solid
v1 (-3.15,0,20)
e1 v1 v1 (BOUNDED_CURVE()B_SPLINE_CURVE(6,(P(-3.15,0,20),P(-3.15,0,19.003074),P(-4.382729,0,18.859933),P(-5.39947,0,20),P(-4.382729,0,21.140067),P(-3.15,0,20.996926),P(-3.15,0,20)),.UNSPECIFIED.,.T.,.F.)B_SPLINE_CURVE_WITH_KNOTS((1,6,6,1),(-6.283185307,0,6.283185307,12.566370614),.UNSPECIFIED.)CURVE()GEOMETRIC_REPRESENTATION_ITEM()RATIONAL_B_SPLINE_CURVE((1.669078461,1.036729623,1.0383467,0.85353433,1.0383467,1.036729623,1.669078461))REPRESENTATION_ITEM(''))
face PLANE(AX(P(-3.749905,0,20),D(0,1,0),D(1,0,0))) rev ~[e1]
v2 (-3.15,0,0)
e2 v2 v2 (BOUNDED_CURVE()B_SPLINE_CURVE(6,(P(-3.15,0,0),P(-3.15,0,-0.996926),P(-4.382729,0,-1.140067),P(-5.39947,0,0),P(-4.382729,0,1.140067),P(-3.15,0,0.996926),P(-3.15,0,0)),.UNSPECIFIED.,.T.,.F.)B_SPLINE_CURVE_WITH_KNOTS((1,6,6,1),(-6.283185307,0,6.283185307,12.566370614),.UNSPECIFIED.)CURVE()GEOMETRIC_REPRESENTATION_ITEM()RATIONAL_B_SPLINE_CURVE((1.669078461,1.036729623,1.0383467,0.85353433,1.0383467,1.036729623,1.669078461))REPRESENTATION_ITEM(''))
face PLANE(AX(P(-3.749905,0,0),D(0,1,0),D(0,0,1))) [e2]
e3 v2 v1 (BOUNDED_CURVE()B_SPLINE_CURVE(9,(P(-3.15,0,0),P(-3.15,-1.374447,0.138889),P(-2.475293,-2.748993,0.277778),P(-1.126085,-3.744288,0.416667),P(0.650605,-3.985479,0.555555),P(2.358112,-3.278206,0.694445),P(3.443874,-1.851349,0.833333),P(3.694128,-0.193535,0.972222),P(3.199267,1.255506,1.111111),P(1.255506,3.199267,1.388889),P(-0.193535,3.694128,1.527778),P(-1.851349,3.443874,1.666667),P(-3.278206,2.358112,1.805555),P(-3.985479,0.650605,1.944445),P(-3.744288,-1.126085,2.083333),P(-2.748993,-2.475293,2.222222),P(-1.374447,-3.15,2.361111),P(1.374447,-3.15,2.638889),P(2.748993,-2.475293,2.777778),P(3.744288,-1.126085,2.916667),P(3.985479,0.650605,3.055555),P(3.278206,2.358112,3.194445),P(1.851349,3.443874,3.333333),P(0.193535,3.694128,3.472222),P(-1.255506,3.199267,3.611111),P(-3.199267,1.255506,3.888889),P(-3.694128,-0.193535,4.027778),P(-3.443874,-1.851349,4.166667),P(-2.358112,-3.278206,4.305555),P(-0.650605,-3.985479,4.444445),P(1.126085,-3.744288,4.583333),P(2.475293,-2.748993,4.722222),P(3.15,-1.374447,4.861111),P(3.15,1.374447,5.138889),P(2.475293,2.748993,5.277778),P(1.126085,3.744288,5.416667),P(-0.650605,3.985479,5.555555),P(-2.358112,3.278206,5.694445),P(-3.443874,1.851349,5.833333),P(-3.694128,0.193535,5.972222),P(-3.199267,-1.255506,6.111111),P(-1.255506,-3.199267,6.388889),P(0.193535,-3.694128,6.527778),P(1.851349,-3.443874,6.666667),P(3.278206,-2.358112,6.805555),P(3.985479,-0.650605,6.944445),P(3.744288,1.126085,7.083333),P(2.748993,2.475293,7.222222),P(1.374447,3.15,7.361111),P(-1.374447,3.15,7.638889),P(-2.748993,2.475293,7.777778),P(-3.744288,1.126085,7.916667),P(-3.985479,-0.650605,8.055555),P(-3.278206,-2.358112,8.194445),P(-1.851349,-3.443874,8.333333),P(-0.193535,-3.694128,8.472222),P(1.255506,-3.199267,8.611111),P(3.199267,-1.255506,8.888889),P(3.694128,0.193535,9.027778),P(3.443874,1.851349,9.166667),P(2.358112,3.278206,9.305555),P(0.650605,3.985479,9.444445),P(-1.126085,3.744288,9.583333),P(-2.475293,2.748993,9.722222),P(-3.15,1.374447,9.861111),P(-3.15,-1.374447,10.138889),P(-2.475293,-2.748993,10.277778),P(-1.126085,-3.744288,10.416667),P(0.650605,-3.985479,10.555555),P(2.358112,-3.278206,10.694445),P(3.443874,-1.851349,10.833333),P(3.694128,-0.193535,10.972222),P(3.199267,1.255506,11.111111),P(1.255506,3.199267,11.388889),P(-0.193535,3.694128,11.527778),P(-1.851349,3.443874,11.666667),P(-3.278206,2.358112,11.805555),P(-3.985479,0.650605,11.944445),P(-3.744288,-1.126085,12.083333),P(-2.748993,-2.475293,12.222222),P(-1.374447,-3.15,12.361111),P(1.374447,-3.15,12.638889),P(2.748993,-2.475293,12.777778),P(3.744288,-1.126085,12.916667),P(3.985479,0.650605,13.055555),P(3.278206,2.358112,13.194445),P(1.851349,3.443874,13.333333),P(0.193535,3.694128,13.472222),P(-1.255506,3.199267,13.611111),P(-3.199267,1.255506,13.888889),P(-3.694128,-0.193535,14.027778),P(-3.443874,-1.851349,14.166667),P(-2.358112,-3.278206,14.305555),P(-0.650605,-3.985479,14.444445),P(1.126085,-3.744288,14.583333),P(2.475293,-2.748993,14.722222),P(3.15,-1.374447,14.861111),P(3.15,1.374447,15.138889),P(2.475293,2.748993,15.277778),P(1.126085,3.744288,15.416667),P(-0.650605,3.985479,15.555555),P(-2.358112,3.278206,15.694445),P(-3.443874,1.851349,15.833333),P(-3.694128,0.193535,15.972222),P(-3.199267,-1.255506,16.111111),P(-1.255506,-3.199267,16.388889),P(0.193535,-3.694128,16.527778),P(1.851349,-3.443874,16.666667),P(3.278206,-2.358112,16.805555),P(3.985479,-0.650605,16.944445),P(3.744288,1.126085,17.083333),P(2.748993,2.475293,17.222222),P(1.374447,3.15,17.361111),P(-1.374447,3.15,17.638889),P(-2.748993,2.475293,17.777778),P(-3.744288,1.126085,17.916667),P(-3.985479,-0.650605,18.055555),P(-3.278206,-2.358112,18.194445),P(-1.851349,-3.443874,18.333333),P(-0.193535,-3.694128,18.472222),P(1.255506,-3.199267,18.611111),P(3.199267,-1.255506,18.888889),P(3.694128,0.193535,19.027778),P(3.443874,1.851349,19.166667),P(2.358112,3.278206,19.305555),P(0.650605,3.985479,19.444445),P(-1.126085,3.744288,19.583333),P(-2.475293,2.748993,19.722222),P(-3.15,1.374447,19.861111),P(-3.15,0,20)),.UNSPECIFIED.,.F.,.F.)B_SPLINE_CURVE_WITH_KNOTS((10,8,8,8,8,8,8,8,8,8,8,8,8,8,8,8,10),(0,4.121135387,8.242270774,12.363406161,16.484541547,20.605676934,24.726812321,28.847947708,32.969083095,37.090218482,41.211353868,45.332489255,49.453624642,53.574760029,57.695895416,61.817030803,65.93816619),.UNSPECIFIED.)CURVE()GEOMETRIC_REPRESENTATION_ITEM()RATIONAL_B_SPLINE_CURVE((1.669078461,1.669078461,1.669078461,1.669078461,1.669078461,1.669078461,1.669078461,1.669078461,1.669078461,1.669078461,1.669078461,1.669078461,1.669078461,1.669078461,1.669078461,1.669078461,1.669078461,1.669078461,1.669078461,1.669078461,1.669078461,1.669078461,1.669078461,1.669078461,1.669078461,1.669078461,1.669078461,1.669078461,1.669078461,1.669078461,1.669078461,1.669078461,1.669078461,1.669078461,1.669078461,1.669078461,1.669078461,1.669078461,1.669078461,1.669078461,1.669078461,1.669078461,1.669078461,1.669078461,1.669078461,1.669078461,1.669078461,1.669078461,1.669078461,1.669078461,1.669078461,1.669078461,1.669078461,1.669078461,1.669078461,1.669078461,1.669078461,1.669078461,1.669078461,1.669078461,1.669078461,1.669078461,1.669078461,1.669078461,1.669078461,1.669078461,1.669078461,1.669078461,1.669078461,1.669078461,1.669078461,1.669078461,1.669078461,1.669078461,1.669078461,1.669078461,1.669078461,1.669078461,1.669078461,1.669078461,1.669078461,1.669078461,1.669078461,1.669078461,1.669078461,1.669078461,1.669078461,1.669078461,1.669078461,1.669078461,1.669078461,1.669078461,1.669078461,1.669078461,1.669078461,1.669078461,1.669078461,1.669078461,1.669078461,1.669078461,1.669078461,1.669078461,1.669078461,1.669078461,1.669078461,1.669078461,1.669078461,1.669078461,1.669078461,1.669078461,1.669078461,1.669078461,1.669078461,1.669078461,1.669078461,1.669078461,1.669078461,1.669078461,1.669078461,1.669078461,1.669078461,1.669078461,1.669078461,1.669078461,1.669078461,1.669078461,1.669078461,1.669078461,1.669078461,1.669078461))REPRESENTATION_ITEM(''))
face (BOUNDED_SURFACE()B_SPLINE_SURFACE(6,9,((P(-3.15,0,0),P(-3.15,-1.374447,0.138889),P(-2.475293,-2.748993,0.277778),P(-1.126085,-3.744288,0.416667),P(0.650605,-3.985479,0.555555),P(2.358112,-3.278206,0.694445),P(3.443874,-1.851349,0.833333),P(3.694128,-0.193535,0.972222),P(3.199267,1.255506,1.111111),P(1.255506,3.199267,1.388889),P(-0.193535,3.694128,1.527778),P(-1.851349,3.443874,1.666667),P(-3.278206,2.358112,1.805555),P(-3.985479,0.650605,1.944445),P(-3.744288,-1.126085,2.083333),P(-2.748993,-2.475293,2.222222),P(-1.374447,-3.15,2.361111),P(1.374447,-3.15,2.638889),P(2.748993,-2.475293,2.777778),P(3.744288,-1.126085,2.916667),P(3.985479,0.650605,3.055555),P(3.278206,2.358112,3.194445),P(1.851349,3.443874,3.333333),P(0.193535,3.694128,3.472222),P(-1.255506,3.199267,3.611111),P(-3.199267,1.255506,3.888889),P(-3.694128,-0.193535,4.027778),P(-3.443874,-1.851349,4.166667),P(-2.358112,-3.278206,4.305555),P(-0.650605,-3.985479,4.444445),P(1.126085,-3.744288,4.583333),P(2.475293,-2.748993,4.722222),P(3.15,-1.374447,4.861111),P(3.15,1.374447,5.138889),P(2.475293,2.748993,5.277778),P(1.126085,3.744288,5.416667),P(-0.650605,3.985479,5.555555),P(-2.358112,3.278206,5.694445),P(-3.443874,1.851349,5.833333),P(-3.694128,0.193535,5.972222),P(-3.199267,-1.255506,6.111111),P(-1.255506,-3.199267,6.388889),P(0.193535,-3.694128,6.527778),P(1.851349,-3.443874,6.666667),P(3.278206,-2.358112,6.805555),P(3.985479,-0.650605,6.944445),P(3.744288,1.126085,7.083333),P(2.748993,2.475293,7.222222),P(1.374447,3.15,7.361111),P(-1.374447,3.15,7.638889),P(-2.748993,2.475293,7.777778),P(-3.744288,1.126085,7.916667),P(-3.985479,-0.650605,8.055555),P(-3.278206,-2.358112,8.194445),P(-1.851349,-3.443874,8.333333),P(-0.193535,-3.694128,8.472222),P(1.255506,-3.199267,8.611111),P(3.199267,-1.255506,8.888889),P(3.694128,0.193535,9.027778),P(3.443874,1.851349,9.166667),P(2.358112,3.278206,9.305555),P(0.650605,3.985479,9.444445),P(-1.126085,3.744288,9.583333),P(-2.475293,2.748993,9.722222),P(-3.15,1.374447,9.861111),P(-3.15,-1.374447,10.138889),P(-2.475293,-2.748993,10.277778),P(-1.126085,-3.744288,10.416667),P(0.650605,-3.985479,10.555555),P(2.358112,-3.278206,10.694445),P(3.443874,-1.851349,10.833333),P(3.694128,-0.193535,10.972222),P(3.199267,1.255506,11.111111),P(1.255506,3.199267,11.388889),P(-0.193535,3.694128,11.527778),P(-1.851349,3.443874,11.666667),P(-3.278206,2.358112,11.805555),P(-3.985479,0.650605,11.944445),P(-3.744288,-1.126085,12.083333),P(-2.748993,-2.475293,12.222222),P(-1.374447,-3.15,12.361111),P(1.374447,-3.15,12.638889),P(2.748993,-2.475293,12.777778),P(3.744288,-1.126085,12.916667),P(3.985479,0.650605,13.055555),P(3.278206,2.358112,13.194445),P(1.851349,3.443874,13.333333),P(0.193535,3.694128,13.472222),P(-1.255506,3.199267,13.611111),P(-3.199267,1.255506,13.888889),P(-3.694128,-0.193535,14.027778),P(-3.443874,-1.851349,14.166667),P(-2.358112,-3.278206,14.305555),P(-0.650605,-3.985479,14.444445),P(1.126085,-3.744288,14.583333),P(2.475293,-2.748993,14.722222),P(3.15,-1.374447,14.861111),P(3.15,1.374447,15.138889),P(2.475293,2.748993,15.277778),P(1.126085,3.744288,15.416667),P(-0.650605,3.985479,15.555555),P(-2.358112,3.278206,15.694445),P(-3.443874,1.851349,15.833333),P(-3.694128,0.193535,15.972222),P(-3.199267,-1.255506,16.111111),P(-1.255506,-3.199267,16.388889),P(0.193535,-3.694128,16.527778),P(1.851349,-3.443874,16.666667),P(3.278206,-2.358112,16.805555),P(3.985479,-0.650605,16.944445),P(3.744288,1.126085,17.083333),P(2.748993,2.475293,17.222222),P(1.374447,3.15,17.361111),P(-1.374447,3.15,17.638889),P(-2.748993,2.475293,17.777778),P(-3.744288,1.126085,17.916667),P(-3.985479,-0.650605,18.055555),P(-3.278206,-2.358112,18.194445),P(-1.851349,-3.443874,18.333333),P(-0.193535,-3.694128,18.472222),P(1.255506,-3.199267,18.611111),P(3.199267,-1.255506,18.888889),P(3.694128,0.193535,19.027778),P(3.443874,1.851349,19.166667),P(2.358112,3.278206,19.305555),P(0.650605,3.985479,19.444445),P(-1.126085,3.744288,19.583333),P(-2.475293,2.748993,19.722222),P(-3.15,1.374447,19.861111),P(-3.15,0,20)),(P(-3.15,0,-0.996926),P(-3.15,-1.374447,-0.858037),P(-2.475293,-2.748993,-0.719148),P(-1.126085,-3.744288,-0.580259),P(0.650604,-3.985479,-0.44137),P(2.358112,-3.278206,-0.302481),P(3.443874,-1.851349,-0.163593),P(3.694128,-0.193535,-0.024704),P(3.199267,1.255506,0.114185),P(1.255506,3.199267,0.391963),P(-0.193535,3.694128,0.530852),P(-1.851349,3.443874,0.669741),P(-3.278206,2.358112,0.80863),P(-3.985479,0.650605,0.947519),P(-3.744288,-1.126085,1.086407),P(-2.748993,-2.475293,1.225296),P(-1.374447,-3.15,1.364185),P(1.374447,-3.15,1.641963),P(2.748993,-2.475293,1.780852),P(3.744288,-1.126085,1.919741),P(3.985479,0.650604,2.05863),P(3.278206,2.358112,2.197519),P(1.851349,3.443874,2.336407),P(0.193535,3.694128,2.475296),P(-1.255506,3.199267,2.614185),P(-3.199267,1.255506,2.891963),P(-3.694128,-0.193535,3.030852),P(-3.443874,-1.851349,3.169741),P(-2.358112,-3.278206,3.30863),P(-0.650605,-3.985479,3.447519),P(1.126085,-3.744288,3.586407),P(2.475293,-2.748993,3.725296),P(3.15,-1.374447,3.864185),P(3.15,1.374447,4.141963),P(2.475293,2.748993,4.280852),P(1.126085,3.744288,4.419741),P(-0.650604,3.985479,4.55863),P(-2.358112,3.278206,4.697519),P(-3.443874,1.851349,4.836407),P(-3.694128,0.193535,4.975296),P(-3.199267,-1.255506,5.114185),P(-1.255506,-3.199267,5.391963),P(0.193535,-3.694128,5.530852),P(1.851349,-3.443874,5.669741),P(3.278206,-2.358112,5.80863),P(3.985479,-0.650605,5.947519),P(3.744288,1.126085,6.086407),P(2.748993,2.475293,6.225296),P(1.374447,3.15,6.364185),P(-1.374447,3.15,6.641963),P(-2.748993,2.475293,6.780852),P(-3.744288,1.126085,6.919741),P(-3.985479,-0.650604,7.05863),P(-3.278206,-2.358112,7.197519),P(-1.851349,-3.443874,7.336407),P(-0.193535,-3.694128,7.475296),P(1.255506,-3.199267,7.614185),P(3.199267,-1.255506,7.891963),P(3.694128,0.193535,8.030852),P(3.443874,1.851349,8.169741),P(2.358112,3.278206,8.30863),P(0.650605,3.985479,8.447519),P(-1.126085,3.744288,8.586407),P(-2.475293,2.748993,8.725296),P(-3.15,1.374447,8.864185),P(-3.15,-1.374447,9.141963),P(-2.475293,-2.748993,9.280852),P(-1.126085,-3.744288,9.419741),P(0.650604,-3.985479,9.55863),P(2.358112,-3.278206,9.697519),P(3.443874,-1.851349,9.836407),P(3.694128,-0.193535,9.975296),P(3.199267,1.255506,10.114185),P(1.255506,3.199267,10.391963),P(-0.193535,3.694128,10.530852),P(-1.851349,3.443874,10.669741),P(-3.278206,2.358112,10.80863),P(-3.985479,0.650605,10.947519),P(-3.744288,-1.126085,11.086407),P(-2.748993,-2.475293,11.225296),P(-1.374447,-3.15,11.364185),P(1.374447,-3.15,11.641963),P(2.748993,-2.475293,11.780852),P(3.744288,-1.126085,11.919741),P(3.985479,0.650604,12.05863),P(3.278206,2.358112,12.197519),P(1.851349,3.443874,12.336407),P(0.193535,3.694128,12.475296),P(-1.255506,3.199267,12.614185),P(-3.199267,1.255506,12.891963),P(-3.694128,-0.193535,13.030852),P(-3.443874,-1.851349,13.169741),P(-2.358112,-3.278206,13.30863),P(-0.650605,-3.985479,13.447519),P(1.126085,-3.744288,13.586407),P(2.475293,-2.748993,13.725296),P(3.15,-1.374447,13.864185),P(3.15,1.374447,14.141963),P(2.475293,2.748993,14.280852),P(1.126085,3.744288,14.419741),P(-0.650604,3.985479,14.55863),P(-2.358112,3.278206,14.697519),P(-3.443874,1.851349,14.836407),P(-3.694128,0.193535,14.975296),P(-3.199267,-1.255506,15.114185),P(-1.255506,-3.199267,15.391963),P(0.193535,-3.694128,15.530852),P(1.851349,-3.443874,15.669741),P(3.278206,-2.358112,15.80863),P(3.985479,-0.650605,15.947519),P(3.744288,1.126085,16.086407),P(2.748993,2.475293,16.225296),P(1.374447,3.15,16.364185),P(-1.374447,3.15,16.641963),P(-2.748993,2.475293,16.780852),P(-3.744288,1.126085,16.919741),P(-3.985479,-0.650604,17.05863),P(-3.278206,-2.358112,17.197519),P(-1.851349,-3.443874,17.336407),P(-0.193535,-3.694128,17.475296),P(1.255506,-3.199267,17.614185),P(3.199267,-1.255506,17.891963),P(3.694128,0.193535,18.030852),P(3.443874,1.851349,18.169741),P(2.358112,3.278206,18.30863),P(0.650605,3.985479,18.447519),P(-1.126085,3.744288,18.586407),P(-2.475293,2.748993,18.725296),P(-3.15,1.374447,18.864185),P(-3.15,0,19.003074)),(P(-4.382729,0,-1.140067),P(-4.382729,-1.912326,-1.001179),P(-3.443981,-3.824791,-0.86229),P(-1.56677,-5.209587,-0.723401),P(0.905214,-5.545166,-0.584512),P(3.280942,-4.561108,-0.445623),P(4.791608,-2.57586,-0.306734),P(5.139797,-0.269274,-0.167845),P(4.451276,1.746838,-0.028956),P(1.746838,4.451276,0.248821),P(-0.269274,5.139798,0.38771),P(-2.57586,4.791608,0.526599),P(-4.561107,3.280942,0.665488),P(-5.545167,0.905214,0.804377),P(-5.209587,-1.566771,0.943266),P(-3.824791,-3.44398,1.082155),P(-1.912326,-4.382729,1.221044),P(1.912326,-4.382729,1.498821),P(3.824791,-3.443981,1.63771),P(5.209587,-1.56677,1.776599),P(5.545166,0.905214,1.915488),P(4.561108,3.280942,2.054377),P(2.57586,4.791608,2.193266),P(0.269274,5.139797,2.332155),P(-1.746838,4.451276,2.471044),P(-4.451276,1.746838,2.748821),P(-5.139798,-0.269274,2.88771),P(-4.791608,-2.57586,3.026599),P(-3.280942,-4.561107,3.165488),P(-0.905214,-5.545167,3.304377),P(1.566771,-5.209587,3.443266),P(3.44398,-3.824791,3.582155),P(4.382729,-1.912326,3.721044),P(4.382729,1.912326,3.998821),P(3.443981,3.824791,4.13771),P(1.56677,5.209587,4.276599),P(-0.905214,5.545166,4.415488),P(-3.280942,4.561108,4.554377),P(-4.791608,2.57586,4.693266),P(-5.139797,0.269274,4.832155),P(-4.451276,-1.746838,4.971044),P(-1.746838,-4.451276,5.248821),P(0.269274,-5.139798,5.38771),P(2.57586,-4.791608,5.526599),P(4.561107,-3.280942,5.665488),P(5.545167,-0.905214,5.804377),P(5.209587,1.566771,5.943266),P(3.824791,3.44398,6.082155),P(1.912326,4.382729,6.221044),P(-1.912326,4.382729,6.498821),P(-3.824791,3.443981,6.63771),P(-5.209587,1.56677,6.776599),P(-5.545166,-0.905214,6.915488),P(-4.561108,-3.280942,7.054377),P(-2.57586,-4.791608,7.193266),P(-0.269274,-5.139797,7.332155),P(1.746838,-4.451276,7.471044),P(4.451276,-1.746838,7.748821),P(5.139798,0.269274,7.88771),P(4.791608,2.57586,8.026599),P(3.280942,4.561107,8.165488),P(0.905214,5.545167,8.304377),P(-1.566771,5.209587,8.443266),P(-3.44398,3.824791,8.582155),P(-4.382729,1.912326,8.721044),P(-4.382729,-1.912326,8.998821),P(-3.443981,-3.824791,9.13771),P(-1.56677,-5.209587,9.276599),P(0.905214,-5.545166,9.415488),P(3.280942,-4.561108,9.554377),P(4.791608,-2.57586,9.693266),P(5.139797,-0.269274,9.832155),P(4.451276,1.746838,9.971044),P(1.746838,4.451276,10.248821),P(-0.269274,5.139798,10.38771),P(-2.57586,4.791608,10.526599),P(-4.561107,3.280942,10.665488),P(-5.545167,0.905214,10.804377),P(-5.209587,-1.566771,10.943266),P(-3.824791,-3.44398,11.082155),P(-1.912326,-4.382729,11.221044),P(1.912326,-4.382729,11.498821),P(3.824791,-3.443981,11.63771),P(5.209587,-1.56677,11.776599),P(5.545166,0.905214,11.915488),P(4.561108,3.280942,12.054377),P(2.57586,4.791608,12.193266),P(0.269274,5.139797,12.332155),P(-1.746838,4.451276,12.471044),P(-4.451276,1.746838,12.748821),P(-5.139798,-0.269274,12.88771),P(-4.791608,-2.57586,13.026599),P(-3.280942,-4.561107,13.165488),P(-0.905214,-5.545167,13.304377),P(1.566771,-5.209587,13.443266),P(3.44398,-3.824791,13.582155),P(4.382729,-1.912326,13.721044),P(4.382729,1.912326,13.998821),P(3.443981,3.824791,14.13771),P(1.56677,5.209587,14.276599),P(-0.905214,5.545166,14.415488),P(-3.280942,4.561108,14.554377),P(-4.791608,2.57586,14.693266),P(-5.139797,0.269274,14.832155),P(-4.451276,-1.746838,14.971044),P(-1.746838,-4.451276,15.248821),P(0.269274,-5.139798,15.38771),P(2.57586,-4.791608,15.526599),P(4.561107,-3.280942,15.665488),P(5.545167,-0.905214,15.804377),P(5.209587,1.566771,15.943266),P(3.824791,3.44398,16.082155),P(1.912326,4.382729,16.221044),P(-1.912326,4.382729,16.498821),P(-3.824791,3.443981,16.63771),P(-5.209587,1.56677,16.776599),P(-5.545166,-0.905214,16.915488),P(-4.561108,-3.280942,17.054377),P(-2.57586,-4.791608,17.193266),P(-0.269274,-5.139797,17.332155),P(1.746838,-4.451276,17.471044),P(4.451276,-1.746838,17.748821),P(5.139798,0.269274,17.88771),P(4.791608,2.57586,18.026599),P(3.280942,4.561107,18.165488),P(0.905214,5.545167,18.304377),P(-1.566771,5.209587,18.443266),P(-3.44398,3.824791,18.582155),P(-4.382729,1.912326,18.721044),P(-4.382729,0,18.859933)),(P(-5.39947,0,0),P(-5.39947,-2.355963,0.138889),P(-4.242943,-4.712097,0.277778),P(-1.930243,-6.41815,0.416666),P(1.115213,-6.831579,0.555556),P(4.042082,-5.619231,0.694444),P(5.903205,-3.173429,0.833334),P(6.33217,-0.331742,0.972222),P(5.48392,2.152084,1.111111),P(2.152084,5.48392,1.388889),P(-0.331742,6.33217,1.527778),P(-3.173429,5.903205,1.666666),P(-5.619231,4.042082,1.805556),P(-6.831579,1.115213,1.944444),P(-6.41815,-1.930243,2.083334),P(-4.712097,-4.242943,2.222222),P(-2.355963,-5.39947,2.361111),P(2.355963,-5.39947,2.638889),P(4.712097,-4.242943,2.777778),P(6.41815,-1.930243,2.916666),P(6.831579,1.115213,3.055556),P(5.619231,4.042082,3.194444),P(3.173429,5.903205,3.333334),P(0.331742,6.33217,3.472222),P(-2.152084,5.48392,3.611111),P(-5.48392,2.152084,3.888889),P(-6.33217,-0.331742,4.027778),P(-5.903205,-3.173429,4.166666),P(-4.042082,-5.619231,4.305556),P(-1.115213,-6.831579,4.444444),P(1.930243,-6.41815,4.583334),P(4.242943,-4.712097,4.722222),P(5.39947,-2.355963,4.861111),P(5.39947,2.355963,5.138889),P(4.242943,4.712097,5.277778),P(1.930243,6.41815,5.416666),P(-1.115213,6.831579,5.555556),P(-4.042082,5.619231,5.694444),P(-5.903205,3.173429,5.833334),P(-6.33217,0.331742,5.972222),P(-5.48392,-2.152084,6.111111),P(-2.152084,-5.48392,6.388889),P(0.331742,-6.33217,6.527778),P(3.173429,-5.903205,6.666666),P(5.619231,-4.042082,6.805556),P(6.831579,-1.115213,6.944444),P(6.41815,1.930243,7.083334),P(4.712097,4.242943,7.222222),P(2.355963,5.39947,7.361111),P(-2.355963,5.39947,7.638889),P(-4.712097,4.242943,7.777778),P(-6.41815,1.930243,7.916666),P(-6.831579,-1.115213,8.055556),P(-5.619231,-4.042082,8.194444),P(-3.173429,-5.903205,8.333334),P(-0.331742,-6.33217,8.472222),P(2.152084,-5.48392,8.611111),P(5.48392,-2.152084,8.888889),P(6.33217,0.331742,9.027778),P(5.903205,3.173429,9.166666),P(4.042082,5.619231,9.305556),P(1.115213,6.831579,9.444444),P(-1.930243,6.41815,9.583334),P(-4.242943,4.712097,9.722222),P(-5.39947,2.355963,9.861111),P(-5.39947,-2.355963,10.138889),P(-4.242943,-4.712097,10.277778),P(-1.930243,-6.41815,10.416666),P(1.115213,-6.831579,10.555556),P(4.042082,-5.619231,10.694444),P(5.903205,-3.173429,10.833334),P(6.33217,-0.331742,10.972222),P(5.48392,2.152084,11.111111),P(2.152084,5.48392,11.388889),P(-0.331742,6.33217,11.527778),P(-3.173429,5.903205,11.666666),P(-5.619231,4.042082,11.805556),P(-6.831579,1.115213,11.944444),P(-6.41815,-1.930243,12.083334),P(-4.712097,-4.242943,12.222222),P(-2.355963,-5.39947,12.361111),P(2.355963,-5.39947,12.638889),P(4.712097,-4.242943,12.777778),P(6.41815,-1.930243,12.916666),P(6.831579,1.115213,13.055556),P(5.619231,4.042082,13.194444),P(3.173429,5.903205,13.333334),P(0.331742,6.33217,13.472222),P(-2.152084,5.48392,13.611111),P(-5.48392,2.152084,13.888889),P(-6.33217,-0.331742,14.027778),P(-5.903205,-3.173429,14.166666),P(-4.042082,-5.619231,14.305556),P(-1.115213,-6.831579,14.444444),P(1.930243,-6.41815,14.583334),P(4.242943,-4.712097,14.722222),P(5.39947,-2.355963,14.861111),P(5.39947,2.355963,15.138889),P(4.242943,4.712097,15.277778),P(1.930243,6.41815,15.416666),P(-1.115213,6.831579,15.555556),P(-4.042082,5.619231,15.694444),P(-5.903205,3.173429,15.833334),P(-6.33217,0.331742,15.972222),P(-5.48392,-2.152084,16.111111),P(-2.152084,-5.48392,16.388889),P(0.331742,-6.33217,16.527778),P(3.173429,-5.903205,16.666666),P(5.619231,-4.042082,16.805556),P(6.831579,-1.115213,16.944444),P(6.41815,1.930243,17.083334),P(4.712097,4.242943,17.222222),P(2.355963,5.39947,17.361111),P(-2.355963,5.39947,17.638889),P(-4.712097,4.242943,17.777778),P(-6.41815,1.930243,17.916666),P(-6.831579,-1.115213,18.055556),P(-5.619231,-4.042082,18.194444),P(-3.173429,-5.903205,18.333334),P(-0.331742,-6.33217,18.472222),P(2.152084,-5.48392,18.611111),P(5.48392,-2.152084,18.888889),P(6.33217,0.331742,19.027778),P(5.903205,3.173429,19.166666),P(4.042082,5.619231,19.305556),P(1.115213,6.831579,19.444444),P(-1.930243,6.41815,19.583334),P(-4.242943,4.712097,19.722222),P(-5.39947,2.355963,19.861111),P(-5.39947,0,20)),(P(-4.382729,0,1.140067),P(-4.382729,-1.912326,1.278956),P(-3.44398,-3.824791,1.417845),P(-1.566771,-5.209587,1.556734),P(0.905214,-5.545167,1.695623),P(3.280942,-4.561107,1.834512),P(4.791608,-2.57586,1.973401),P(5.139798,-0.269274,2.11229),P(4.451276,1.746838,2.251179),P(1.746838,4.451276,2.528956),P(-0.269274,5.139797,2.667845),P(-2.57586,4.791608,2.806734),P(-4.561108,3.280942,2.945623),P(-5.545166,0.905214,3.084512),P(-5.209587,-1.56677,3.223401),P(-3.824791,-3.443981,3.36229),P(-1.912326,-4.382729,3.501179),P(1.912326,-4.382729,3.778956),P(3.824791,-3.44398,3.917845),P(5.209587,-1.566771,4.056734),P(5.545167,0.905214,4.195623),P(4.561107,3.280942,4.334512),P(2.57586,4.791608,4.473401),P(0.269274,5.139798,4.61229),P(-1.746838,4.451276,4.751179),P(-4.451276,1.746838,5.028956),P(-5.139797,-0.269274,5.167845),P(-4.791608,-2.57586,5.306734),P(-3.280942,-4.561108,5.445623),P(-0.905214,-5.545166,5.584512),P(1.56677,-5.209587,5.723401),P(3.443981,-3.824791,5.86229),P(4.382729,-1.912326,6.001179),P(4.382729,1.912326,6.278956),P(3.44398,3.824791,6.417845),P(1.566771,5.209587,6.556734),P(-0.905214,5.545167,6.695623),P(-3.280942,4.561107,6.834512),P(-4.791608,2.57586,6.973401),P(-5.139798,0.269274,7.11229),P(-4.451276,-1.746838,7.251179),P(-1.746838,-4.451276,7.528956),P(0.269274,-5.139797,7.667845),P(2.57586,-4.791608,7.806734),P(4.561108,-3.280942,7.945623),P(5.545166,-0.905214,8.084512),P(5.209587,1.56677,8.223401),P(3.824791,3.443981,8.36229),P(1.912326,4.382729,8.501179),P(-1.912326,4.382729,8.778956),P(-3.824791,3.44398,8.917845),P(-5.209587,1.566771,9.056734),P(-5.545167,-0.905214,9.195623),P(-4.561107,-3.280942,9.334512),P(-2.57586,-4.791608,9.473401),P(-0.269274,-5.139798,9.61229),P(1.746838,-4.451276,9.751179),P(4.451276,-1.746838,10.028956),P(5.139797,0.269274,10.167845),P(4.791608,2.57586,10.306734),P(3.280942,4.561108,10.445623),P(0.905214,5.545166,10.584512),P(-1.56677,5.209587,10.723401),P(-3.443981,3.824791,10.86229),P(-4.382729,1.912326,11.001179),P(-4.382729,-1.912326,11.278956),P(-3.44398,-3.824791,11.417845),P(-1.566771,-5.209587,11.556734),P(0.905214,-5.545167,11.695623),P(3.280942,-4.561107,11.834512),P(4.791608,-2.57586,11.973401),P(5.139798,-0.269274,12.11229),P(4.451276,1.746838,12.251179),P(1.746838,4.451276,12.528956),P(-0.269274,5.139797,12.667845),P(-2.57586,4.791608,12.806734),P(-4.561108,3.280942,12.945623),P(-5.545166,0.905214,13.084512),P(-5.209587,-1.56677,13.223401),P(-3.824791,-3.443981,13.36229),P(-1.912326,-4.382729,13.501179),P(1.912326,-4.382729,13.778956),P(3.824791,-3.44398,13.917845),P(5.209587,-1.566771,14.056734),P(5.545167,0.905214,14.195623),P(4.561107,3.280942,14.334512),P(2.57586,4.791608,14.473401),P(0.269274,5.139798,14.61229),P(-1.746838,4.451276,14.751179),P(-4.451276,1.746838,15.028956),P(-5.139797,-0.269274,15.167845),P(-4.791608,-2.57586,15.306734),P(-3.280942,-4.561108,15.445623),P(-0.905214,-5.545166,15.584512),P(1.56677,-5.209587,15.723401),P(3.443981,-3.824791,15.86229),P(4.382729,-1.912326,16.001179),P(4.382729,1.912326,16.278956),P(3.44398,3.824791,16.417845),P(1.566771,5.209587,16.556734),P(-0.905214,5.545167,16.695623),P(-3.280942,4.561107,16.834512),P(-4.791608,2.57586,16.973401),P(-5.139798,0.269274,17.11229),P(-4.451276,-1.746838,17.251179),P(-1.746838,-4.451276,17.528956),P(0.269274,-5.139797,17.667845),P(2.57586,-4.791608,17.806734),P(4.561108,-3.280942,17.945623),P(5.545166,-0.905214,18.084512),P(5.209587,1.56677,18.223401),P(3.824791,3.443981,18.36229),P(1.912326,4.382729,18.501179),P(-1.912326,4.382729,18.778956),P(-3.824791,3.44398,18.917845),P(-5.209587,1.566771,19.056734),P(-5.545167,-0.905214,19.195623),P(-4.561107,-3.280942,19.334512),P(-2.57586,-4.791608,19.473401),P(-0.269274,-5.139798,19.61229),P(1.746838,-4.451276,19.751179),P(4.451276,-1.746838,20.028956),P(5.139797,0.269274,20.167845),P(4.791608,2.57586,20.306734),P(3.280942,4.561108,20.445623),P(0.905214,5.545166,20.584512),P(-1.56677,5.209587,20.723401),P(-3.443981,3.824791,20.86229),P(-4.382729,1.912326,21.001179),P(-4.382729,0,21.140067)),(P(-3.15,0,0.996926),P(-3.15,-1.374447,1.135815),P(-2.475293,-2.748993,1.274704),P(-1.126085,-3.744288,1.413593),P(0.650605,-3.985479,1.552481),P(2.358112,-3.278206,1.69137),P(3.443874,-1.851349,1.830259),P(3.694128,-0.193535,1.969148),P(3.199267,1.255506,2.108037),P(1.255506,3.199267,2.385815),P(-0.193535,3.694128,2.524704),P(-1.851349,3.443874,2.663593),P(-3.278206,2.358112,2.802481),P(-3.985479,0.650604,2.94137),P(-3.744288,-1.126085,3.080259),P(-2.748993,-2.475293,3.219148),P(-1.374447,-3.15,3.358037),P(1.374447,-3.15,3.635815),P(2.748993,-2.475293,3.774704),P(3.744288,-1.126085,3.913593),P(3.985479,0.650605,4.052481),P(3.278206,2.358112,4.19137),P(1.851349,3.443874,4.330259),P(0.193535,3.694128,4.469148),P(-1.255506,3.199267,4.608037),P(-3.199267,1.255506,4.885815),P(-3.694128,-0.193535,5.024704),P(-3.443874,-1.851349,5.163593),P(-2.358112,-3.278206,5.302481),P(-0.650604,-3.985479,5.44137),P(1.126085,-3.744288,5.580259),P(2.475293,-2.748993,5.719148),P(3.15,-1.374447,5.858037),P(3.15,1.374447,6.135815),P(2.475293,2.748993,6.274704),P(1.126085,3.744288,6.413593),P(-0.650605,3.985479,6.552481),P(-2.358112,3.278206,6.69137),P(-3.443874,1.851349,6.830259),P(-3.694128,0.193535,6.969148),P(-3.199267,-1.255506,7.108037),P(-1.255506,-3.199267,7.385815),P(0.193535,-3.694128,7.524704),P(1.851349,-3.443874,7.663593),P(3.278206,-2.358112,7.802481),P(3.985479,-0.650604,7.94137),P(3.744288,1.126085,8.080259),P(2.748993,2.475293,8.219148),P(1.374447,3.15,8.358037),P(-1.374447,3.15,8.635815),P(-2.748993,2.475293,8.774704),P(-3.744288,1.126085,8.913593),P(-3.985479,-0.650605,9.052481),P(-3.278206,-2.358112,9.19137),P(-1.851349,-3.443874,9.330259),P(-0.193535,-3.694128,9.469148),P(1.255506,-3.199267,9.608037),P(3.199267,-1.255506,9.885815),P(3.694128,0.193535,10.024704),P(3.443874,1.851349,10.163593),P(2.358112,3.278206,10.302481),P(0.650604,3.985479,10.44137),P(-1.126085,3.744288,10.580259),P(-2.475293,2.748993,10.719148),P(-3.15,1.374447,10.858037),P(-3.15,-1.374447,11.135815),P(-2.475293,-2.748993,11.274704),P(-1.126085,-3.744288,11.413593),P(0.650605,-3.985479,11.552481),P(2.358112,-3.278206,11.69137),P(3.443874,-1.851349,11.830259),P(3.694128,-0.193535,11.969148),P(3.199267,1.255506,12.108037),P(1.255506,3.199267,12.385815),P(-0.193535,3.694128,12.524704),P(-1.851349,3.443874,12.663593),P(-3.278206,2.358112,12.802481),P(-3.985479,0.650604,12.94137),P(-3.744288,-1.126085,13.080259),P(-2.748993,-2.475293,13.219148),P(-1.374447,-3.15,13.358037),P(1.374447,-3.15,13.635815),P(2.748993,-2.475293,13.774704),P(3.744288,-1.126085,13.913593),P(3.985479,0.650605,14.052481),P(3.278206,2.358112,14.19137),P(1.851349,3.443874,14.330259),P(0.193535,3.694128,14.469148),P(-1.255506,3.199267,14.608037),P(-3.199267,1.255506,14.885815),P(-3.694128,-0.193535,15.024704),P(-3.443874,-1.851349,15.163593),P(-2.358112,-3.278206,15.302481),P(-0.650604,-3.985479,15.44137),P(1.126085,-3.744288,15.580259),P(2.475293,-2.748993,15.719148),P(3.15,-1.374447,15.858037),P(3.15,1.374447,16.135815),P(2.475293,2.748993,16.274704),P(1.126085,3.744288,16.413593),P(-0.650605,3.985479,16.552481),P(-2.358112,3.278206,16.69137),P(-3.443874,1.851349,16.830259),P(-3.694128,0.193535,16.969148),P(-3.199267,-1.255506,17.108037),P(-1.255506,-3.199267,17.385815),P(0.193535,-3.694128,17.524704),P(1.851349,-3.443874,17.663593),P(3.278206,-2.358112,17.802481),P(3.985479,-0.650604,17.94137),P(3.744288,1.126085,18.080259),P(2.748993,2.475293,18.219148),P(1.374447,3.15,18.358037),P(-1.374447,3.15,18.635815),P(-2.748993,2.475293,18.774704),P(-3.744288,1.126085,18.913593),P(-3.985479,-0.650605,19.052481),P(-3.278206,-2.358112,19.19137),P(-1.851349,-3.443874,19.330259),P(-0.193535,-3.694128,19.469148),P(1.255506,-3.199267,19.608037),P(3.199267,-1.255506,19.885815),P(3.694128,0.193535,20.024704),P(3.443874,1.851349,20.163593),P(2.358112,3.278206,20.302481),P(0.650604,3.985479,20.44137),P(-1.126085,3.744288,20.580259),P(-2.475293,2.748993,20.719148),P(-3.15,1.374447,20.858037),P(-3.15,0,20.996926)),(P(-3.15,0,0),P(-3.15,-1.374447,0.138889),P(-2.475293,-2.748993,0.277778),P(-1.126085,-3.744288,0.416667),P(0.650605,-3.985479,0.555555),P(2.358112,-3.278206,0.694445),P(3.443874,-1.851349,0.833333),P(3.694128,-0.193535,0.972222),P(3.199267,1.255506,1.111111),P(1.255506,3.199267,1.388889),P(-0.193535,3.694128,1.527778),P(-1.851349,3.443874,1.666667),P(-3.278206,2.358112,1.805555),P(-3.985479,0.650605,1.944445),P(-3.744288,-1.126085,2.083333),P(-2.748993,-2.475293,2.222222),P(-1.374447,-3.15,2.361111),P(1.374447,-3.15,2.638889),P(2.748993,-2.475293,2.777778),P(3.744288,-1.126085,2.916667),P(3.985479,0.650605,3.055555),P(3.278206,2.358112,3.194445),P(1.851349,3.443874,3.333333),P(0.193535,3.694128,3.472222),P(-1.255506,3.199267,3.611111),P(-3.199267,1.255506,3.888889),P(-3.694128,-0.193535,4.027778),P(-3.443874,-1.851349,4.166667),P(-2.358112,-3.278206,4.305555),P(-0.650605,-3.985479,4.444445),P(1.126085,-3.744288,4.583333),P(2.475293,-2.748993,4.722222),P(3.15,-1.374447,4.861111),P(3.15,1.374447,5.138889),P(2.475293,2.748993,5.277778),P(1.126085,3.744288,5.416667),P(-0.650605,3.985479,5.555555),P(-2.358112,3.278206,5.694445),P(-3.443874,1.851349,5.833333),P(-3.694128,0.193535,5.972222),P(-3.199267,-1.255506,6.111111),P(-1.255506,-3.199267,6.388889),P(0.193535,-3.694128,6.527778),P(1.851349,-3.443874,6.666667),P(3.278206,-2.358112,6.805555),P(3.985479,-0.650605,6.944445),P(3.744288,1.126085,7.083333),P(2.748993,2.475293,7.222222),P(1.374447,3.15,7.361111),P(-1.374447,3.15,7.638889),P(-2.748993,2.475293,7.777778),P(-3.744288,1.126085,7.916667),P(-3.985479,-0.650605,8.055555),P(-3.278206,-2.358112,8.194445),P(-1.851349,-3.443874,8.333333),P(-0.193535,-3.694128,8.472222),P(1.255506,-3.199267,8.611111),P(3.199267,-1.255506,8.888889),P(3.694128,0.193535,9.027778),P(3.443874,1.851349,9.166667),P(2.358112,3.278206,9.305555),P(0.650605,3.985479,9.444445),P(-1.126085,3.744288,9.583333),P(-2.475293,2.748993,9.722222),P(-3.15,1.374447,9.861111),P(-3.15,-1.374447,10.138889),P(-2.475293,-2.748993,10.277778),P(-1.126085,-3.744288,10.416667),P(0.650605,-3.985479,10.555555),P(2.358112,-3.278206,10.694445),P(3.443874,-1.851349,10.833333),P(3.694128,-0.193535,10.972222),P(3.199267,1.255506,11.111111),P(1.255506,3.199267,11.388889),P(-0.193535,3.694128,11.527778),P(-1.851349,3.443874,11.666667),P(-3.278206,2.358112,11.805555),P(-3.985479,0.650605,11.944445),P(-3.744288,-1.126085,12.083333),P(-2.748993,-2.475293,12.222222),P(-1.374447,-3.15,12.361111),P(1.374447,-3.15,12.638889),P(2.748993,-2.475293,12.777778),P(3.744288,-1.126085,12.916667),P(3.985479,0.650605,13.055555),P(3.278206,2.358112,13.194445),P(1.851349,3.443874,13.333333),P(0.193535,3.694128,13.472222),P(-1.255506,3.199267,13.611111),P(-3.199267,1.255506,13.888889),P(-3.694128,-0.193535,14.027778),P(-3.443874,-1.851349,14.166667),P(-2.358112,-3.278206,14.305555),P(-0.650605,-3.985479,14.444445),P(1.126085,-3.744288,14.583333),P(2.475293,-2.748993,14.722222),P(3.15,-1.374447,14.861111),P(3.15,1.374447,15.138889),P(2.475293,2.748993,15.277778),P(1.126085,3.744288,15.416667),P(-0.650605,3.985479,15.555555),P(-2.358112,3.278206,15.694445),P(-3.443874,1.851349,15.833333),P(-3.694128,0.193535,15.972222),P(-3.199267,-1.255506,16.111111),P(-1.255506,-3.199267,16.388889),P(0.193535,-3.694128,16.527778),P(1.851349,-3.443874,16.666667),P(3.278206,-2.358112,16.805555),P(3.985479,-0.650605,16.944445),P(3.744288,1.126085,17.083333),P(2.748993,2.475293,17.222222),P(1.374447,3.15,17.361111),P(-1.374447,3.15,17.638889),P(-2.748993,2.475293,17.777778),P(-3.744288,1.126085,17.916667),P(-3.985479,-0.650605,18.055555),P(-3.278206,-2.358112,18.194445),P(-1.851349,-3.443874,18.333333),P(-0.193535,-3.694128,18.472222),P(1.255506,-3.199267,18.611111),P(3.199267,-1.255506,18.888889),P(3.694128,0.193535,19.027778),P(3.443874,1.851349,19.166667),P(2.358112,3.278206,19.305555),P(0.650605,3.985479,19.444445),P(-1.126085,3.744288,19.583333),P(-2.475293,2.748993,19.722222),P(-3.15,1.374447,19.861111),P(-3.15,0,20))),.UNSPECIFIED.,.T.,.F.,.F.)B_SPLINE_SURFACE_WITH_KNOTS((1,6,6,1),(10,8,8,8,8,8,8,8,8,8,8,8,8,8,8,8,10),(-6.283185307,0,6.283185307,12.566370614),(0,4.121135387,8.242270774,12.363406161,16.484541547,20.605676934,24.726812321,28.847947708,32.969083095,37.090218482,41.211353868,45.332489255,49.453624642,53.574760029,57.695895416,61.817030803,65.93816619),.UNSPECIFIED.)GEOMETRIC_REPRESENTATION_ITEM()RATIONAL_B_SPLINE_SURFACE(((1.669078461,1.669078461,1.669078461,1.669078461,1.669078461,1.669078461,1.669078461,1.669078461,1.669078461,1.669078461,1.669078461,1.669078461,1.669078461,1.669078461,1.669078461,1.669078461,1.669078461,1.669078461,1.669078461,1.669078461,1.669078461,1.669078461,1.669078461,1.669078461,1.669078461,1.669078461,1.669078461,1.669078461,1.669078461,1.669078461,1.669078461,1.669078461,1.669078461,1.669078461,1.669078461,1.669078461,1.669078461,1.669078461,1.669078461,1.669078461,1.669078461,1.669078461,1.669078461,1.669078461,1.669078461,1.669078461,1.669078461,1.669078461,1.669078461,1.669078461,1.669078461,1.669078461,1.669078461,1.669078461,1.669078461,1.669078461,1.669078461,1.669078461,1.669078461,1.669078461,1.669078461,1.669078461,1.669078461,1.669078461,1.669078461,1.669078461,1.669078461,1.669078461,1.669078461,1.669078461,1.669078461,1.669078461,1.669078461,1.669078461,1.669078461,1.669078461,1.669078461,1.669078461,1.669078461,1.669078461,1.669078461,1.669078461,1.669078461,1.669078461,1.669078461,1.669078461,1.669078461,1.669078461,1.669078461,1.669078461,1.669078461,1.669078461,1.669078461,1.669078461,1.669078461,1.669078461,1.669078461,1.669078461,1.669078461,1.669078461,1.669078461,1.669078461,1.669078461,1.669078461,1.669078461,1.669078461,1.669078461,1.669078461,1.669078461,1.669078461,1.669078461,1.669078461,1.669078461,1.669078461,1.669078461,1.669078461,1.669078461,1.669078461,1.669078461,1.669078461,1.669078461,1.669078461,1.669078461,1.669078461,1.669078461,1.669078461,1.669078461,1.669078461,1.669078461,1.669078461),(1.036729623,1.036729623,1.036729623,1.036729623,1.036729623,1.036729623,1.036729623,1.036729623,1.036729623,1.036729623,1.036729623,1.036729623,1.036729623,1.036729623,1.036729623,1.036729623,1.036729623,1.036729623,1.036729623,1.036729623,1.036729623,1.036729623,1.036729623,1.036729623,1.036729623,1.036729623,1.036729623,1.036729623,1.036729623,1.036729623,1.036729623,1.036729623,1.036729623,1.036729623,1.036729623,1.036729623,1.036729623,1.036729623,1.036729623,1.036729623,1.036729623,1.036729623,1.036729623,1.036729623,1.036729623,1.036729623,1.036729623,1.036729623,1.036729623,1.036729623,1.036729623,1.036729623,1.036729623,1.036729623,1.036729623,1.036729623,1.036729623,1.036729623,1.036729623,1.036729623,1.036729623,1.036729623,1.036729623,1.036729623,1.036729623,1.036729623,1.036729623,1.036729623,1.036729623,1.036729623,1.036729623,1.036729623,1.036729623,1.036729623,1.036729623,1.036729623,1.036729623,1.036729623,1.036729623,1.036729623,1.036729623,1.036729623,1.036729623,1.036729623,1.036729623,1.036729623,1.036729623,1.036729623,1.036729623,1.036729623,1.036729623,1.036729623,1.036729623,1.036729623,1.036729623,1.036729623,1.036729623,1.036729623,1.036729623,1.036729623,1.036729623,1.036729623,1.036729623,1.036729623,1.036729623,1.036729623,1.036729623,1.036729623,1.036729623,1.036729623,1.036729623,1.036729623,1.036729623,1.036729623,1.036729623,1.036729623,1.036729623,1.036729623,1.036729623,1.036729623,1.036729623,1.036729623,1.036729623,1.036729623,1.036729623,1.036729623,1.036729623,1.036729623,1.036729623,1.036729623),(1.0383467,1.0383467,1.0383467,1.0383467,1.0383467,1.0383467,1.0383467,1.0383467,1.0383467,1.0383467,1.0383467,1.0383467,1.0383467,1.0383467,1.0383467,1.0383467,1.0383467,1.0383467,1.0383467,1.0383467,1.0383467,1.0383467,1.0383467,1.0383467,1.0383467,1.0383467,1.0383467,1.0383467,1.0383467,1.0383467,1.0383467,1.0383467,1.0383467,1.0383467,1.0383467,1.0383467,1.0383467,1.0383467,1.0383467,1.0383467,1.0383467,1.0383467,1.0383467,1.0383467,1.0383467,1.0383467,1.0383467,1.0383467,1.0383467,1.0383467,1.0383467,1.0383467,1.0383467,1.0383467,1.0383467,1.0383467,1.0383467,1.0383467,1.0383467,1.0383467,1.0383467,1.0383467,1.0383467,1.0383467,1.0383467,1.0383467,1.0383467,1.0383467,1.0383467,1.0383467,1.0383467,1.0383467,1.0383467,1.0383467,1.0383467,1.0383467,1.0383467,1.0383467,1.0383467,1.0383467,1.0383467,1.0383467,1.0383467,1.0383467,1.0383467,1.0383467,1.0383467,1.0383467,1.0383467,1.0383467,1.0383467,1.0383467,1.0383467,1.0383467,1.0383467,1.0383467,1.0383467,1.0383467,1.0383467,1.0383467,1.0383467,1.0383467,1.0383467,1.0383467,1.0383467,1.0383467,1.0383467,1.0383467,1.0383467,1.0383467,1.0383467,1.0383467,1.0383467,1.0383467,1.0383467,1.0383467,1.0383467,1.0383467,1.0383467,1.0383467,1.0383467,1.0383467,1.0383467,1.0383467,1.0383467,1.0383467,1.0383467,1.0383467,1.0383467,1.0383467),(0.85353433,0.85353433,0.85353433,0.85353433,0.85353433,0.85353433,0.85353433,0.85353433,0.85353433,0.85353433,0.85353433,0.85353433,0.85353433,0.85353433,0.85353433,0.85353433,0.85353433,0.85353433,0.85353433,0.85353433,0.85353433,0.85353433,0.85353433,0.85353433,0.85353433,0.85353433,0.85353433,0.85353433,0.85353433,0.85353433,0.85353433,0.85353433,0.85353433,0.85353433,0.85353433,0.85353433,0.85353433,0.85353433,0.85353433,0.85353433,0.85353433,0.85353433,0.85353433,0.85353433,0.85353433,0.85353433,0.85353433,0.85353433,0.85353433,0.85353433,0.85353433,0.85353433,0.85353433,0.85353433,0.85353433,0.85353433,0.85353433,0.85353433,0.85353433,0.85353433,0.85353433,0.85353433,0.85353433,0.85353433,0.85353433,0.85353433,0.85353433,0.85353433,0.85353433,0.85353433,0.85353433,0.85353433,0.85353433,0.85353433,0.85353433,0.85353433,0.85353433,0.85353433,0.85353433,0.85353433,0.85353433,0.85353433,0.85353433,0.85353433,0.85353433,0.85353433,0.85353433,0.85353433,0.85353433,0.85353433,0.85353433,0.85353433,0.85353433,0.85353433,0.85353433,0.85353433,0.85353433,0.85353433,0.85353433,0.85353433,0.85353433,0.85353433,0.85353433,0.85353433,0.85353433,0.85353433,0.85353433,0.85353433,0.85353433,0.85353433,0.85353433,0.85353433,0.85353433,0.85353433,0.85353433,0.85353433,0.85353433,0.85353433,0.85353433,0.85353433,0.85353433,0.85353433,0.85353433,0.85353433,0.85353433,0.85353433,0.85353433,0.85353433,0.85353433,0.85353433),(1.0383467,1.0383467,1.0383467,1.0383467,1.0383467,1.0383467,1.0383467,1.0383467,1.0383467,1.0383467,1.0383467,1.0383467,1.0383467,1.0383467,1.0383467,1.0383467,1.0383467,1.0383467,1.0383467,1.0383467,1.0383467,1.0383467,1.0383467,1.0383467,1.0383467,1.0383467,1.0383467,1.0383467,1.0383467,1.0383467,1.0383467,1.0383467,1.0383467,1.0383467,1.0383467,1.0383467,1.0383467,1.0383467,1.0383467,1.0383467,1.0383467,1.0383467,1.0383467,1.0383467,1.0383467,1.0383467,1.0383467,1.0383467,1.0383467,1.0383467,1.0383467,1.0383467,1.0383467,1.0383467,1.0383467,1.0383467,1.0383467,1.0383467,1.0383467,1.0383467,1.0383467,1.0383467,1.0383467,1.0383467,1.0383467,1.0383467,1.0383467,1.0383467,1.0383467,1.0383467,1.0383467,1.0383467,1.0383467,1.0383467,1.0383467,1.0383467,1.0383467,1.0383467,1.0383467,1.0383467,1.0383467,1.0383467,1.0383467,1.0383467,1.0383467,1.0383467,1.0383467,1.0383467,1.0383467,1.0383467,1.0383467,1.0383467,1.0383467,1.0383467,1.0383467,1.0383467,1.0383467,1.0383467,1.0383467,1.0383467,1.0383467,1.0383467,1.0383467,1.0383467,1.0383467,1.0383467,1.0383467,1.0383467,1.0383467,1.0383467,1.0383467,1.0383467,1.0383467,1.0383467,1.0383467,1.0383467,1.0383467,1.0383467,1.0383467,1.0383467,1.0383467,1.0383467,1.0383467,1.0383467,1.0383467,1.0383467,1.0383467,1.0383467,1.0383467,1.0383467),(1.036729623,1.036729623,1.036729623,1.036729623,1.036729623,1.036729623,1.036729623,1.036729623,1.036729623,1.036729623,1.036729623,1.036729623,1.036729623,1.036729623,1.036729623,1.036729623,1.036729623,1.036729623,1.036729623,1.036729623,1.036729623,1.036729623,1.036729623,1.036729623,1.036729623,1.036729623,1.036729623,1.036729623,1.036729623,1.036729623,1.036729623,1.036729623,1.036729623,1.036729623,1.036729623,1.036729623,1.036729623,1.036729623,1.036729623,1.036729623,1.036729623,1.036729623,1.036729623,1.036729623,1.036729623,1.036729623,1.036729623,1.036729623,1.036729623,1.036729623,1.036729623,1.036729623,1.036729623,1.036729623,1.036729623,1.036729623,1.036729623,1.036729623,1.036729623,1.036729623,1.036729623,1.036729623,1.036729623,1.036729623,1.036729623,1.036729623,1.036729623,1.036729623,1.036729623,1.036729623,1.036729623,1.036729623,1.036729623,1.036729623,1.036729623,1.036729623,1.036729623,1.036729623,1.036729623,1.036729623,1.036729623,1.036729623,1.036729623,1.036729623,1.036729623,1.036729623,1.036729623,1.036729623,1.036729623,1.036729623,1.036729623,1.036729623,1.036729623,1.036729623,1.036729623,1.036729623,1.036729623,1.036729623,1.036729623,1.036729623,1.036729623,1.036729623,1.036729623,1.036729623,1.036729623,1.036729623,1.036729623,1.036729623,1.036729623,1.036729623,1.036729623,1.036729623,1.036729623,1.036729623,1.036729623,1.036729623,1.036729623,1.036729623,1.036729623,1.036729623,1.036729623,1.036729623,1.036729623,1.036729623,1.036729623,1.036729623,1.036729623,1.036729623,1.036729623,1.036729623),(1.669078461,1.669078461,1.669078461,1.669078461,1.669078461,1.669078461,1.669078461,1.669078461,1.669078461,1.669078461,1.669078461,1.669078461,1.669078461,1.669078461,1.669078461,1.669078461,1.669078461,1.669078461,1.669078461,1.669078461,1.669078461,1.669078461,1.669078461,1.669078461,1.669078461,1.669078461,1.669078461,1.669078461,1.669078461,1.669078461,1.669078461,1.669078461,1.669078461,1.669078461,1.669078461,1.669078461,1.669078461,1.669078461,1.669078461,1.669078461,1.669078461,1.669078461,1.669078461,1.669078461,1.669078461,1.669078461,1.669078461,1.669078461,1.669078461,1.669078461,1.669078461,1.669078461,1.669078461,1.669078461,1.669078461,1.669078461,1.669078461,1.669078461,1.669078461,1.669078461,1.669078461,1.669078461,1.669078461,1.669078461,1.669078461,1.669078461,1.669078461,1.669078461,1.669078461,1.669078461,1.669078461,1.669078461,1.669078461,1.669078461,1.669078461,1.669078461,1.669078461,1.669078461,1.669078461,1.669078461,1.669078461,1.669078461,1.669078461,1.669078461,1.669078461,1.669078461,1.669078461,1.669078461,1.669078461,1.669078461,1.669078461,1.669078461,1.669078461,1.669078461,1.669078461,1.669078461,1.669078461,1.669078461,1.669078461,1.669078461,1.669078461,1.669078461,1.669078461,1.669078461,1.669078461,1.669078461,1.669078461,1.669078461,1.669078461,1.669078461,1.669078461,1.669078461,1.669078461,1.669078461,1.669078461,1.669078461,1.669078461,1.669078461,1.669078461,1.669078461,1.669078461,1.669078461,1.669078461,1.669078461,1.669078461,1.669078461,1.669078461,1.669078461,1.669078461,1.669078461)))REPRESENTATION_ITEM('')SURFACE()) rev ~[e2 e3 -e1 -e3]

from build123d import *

# Parameters (mm, degrees)
SWEEP1_PITCH       = 2
SWEEP1_HEIGHT      = 20
SWEEP1_RADIUS      = 3.75
SWEEP1_START_ANGLE = -180
SKETCH3_R          = 0.6


with BuildPart() as part:
    # Sweep1: sweep along a helix
    with BuildLine() as sweep1_path:
        add(Helix(SWEEP1_PITCH, SWEEP1_HEIGHT, SWEEP1_RADIUS, center=(0, 0, 0), direction=(0, 0, 1), mode=Mode.PRIVATE).rotate(Axis((0, 0, 0), (0, 0, 1)), SWEEP1_START_ANGLE))
    # Sketch3 → Sweep1 (sweep)
    with BuildSketch(Plane(origin=(0, 0, 0), x_dir=(1, 0, 0), z_dir=(0, 1, 0))):
        with Locations((-3.75, 0)):
            Circle(SKETCH3_R)
    sweep(path=sweep1_path.line, is_frenet=True)


solid = part.part
